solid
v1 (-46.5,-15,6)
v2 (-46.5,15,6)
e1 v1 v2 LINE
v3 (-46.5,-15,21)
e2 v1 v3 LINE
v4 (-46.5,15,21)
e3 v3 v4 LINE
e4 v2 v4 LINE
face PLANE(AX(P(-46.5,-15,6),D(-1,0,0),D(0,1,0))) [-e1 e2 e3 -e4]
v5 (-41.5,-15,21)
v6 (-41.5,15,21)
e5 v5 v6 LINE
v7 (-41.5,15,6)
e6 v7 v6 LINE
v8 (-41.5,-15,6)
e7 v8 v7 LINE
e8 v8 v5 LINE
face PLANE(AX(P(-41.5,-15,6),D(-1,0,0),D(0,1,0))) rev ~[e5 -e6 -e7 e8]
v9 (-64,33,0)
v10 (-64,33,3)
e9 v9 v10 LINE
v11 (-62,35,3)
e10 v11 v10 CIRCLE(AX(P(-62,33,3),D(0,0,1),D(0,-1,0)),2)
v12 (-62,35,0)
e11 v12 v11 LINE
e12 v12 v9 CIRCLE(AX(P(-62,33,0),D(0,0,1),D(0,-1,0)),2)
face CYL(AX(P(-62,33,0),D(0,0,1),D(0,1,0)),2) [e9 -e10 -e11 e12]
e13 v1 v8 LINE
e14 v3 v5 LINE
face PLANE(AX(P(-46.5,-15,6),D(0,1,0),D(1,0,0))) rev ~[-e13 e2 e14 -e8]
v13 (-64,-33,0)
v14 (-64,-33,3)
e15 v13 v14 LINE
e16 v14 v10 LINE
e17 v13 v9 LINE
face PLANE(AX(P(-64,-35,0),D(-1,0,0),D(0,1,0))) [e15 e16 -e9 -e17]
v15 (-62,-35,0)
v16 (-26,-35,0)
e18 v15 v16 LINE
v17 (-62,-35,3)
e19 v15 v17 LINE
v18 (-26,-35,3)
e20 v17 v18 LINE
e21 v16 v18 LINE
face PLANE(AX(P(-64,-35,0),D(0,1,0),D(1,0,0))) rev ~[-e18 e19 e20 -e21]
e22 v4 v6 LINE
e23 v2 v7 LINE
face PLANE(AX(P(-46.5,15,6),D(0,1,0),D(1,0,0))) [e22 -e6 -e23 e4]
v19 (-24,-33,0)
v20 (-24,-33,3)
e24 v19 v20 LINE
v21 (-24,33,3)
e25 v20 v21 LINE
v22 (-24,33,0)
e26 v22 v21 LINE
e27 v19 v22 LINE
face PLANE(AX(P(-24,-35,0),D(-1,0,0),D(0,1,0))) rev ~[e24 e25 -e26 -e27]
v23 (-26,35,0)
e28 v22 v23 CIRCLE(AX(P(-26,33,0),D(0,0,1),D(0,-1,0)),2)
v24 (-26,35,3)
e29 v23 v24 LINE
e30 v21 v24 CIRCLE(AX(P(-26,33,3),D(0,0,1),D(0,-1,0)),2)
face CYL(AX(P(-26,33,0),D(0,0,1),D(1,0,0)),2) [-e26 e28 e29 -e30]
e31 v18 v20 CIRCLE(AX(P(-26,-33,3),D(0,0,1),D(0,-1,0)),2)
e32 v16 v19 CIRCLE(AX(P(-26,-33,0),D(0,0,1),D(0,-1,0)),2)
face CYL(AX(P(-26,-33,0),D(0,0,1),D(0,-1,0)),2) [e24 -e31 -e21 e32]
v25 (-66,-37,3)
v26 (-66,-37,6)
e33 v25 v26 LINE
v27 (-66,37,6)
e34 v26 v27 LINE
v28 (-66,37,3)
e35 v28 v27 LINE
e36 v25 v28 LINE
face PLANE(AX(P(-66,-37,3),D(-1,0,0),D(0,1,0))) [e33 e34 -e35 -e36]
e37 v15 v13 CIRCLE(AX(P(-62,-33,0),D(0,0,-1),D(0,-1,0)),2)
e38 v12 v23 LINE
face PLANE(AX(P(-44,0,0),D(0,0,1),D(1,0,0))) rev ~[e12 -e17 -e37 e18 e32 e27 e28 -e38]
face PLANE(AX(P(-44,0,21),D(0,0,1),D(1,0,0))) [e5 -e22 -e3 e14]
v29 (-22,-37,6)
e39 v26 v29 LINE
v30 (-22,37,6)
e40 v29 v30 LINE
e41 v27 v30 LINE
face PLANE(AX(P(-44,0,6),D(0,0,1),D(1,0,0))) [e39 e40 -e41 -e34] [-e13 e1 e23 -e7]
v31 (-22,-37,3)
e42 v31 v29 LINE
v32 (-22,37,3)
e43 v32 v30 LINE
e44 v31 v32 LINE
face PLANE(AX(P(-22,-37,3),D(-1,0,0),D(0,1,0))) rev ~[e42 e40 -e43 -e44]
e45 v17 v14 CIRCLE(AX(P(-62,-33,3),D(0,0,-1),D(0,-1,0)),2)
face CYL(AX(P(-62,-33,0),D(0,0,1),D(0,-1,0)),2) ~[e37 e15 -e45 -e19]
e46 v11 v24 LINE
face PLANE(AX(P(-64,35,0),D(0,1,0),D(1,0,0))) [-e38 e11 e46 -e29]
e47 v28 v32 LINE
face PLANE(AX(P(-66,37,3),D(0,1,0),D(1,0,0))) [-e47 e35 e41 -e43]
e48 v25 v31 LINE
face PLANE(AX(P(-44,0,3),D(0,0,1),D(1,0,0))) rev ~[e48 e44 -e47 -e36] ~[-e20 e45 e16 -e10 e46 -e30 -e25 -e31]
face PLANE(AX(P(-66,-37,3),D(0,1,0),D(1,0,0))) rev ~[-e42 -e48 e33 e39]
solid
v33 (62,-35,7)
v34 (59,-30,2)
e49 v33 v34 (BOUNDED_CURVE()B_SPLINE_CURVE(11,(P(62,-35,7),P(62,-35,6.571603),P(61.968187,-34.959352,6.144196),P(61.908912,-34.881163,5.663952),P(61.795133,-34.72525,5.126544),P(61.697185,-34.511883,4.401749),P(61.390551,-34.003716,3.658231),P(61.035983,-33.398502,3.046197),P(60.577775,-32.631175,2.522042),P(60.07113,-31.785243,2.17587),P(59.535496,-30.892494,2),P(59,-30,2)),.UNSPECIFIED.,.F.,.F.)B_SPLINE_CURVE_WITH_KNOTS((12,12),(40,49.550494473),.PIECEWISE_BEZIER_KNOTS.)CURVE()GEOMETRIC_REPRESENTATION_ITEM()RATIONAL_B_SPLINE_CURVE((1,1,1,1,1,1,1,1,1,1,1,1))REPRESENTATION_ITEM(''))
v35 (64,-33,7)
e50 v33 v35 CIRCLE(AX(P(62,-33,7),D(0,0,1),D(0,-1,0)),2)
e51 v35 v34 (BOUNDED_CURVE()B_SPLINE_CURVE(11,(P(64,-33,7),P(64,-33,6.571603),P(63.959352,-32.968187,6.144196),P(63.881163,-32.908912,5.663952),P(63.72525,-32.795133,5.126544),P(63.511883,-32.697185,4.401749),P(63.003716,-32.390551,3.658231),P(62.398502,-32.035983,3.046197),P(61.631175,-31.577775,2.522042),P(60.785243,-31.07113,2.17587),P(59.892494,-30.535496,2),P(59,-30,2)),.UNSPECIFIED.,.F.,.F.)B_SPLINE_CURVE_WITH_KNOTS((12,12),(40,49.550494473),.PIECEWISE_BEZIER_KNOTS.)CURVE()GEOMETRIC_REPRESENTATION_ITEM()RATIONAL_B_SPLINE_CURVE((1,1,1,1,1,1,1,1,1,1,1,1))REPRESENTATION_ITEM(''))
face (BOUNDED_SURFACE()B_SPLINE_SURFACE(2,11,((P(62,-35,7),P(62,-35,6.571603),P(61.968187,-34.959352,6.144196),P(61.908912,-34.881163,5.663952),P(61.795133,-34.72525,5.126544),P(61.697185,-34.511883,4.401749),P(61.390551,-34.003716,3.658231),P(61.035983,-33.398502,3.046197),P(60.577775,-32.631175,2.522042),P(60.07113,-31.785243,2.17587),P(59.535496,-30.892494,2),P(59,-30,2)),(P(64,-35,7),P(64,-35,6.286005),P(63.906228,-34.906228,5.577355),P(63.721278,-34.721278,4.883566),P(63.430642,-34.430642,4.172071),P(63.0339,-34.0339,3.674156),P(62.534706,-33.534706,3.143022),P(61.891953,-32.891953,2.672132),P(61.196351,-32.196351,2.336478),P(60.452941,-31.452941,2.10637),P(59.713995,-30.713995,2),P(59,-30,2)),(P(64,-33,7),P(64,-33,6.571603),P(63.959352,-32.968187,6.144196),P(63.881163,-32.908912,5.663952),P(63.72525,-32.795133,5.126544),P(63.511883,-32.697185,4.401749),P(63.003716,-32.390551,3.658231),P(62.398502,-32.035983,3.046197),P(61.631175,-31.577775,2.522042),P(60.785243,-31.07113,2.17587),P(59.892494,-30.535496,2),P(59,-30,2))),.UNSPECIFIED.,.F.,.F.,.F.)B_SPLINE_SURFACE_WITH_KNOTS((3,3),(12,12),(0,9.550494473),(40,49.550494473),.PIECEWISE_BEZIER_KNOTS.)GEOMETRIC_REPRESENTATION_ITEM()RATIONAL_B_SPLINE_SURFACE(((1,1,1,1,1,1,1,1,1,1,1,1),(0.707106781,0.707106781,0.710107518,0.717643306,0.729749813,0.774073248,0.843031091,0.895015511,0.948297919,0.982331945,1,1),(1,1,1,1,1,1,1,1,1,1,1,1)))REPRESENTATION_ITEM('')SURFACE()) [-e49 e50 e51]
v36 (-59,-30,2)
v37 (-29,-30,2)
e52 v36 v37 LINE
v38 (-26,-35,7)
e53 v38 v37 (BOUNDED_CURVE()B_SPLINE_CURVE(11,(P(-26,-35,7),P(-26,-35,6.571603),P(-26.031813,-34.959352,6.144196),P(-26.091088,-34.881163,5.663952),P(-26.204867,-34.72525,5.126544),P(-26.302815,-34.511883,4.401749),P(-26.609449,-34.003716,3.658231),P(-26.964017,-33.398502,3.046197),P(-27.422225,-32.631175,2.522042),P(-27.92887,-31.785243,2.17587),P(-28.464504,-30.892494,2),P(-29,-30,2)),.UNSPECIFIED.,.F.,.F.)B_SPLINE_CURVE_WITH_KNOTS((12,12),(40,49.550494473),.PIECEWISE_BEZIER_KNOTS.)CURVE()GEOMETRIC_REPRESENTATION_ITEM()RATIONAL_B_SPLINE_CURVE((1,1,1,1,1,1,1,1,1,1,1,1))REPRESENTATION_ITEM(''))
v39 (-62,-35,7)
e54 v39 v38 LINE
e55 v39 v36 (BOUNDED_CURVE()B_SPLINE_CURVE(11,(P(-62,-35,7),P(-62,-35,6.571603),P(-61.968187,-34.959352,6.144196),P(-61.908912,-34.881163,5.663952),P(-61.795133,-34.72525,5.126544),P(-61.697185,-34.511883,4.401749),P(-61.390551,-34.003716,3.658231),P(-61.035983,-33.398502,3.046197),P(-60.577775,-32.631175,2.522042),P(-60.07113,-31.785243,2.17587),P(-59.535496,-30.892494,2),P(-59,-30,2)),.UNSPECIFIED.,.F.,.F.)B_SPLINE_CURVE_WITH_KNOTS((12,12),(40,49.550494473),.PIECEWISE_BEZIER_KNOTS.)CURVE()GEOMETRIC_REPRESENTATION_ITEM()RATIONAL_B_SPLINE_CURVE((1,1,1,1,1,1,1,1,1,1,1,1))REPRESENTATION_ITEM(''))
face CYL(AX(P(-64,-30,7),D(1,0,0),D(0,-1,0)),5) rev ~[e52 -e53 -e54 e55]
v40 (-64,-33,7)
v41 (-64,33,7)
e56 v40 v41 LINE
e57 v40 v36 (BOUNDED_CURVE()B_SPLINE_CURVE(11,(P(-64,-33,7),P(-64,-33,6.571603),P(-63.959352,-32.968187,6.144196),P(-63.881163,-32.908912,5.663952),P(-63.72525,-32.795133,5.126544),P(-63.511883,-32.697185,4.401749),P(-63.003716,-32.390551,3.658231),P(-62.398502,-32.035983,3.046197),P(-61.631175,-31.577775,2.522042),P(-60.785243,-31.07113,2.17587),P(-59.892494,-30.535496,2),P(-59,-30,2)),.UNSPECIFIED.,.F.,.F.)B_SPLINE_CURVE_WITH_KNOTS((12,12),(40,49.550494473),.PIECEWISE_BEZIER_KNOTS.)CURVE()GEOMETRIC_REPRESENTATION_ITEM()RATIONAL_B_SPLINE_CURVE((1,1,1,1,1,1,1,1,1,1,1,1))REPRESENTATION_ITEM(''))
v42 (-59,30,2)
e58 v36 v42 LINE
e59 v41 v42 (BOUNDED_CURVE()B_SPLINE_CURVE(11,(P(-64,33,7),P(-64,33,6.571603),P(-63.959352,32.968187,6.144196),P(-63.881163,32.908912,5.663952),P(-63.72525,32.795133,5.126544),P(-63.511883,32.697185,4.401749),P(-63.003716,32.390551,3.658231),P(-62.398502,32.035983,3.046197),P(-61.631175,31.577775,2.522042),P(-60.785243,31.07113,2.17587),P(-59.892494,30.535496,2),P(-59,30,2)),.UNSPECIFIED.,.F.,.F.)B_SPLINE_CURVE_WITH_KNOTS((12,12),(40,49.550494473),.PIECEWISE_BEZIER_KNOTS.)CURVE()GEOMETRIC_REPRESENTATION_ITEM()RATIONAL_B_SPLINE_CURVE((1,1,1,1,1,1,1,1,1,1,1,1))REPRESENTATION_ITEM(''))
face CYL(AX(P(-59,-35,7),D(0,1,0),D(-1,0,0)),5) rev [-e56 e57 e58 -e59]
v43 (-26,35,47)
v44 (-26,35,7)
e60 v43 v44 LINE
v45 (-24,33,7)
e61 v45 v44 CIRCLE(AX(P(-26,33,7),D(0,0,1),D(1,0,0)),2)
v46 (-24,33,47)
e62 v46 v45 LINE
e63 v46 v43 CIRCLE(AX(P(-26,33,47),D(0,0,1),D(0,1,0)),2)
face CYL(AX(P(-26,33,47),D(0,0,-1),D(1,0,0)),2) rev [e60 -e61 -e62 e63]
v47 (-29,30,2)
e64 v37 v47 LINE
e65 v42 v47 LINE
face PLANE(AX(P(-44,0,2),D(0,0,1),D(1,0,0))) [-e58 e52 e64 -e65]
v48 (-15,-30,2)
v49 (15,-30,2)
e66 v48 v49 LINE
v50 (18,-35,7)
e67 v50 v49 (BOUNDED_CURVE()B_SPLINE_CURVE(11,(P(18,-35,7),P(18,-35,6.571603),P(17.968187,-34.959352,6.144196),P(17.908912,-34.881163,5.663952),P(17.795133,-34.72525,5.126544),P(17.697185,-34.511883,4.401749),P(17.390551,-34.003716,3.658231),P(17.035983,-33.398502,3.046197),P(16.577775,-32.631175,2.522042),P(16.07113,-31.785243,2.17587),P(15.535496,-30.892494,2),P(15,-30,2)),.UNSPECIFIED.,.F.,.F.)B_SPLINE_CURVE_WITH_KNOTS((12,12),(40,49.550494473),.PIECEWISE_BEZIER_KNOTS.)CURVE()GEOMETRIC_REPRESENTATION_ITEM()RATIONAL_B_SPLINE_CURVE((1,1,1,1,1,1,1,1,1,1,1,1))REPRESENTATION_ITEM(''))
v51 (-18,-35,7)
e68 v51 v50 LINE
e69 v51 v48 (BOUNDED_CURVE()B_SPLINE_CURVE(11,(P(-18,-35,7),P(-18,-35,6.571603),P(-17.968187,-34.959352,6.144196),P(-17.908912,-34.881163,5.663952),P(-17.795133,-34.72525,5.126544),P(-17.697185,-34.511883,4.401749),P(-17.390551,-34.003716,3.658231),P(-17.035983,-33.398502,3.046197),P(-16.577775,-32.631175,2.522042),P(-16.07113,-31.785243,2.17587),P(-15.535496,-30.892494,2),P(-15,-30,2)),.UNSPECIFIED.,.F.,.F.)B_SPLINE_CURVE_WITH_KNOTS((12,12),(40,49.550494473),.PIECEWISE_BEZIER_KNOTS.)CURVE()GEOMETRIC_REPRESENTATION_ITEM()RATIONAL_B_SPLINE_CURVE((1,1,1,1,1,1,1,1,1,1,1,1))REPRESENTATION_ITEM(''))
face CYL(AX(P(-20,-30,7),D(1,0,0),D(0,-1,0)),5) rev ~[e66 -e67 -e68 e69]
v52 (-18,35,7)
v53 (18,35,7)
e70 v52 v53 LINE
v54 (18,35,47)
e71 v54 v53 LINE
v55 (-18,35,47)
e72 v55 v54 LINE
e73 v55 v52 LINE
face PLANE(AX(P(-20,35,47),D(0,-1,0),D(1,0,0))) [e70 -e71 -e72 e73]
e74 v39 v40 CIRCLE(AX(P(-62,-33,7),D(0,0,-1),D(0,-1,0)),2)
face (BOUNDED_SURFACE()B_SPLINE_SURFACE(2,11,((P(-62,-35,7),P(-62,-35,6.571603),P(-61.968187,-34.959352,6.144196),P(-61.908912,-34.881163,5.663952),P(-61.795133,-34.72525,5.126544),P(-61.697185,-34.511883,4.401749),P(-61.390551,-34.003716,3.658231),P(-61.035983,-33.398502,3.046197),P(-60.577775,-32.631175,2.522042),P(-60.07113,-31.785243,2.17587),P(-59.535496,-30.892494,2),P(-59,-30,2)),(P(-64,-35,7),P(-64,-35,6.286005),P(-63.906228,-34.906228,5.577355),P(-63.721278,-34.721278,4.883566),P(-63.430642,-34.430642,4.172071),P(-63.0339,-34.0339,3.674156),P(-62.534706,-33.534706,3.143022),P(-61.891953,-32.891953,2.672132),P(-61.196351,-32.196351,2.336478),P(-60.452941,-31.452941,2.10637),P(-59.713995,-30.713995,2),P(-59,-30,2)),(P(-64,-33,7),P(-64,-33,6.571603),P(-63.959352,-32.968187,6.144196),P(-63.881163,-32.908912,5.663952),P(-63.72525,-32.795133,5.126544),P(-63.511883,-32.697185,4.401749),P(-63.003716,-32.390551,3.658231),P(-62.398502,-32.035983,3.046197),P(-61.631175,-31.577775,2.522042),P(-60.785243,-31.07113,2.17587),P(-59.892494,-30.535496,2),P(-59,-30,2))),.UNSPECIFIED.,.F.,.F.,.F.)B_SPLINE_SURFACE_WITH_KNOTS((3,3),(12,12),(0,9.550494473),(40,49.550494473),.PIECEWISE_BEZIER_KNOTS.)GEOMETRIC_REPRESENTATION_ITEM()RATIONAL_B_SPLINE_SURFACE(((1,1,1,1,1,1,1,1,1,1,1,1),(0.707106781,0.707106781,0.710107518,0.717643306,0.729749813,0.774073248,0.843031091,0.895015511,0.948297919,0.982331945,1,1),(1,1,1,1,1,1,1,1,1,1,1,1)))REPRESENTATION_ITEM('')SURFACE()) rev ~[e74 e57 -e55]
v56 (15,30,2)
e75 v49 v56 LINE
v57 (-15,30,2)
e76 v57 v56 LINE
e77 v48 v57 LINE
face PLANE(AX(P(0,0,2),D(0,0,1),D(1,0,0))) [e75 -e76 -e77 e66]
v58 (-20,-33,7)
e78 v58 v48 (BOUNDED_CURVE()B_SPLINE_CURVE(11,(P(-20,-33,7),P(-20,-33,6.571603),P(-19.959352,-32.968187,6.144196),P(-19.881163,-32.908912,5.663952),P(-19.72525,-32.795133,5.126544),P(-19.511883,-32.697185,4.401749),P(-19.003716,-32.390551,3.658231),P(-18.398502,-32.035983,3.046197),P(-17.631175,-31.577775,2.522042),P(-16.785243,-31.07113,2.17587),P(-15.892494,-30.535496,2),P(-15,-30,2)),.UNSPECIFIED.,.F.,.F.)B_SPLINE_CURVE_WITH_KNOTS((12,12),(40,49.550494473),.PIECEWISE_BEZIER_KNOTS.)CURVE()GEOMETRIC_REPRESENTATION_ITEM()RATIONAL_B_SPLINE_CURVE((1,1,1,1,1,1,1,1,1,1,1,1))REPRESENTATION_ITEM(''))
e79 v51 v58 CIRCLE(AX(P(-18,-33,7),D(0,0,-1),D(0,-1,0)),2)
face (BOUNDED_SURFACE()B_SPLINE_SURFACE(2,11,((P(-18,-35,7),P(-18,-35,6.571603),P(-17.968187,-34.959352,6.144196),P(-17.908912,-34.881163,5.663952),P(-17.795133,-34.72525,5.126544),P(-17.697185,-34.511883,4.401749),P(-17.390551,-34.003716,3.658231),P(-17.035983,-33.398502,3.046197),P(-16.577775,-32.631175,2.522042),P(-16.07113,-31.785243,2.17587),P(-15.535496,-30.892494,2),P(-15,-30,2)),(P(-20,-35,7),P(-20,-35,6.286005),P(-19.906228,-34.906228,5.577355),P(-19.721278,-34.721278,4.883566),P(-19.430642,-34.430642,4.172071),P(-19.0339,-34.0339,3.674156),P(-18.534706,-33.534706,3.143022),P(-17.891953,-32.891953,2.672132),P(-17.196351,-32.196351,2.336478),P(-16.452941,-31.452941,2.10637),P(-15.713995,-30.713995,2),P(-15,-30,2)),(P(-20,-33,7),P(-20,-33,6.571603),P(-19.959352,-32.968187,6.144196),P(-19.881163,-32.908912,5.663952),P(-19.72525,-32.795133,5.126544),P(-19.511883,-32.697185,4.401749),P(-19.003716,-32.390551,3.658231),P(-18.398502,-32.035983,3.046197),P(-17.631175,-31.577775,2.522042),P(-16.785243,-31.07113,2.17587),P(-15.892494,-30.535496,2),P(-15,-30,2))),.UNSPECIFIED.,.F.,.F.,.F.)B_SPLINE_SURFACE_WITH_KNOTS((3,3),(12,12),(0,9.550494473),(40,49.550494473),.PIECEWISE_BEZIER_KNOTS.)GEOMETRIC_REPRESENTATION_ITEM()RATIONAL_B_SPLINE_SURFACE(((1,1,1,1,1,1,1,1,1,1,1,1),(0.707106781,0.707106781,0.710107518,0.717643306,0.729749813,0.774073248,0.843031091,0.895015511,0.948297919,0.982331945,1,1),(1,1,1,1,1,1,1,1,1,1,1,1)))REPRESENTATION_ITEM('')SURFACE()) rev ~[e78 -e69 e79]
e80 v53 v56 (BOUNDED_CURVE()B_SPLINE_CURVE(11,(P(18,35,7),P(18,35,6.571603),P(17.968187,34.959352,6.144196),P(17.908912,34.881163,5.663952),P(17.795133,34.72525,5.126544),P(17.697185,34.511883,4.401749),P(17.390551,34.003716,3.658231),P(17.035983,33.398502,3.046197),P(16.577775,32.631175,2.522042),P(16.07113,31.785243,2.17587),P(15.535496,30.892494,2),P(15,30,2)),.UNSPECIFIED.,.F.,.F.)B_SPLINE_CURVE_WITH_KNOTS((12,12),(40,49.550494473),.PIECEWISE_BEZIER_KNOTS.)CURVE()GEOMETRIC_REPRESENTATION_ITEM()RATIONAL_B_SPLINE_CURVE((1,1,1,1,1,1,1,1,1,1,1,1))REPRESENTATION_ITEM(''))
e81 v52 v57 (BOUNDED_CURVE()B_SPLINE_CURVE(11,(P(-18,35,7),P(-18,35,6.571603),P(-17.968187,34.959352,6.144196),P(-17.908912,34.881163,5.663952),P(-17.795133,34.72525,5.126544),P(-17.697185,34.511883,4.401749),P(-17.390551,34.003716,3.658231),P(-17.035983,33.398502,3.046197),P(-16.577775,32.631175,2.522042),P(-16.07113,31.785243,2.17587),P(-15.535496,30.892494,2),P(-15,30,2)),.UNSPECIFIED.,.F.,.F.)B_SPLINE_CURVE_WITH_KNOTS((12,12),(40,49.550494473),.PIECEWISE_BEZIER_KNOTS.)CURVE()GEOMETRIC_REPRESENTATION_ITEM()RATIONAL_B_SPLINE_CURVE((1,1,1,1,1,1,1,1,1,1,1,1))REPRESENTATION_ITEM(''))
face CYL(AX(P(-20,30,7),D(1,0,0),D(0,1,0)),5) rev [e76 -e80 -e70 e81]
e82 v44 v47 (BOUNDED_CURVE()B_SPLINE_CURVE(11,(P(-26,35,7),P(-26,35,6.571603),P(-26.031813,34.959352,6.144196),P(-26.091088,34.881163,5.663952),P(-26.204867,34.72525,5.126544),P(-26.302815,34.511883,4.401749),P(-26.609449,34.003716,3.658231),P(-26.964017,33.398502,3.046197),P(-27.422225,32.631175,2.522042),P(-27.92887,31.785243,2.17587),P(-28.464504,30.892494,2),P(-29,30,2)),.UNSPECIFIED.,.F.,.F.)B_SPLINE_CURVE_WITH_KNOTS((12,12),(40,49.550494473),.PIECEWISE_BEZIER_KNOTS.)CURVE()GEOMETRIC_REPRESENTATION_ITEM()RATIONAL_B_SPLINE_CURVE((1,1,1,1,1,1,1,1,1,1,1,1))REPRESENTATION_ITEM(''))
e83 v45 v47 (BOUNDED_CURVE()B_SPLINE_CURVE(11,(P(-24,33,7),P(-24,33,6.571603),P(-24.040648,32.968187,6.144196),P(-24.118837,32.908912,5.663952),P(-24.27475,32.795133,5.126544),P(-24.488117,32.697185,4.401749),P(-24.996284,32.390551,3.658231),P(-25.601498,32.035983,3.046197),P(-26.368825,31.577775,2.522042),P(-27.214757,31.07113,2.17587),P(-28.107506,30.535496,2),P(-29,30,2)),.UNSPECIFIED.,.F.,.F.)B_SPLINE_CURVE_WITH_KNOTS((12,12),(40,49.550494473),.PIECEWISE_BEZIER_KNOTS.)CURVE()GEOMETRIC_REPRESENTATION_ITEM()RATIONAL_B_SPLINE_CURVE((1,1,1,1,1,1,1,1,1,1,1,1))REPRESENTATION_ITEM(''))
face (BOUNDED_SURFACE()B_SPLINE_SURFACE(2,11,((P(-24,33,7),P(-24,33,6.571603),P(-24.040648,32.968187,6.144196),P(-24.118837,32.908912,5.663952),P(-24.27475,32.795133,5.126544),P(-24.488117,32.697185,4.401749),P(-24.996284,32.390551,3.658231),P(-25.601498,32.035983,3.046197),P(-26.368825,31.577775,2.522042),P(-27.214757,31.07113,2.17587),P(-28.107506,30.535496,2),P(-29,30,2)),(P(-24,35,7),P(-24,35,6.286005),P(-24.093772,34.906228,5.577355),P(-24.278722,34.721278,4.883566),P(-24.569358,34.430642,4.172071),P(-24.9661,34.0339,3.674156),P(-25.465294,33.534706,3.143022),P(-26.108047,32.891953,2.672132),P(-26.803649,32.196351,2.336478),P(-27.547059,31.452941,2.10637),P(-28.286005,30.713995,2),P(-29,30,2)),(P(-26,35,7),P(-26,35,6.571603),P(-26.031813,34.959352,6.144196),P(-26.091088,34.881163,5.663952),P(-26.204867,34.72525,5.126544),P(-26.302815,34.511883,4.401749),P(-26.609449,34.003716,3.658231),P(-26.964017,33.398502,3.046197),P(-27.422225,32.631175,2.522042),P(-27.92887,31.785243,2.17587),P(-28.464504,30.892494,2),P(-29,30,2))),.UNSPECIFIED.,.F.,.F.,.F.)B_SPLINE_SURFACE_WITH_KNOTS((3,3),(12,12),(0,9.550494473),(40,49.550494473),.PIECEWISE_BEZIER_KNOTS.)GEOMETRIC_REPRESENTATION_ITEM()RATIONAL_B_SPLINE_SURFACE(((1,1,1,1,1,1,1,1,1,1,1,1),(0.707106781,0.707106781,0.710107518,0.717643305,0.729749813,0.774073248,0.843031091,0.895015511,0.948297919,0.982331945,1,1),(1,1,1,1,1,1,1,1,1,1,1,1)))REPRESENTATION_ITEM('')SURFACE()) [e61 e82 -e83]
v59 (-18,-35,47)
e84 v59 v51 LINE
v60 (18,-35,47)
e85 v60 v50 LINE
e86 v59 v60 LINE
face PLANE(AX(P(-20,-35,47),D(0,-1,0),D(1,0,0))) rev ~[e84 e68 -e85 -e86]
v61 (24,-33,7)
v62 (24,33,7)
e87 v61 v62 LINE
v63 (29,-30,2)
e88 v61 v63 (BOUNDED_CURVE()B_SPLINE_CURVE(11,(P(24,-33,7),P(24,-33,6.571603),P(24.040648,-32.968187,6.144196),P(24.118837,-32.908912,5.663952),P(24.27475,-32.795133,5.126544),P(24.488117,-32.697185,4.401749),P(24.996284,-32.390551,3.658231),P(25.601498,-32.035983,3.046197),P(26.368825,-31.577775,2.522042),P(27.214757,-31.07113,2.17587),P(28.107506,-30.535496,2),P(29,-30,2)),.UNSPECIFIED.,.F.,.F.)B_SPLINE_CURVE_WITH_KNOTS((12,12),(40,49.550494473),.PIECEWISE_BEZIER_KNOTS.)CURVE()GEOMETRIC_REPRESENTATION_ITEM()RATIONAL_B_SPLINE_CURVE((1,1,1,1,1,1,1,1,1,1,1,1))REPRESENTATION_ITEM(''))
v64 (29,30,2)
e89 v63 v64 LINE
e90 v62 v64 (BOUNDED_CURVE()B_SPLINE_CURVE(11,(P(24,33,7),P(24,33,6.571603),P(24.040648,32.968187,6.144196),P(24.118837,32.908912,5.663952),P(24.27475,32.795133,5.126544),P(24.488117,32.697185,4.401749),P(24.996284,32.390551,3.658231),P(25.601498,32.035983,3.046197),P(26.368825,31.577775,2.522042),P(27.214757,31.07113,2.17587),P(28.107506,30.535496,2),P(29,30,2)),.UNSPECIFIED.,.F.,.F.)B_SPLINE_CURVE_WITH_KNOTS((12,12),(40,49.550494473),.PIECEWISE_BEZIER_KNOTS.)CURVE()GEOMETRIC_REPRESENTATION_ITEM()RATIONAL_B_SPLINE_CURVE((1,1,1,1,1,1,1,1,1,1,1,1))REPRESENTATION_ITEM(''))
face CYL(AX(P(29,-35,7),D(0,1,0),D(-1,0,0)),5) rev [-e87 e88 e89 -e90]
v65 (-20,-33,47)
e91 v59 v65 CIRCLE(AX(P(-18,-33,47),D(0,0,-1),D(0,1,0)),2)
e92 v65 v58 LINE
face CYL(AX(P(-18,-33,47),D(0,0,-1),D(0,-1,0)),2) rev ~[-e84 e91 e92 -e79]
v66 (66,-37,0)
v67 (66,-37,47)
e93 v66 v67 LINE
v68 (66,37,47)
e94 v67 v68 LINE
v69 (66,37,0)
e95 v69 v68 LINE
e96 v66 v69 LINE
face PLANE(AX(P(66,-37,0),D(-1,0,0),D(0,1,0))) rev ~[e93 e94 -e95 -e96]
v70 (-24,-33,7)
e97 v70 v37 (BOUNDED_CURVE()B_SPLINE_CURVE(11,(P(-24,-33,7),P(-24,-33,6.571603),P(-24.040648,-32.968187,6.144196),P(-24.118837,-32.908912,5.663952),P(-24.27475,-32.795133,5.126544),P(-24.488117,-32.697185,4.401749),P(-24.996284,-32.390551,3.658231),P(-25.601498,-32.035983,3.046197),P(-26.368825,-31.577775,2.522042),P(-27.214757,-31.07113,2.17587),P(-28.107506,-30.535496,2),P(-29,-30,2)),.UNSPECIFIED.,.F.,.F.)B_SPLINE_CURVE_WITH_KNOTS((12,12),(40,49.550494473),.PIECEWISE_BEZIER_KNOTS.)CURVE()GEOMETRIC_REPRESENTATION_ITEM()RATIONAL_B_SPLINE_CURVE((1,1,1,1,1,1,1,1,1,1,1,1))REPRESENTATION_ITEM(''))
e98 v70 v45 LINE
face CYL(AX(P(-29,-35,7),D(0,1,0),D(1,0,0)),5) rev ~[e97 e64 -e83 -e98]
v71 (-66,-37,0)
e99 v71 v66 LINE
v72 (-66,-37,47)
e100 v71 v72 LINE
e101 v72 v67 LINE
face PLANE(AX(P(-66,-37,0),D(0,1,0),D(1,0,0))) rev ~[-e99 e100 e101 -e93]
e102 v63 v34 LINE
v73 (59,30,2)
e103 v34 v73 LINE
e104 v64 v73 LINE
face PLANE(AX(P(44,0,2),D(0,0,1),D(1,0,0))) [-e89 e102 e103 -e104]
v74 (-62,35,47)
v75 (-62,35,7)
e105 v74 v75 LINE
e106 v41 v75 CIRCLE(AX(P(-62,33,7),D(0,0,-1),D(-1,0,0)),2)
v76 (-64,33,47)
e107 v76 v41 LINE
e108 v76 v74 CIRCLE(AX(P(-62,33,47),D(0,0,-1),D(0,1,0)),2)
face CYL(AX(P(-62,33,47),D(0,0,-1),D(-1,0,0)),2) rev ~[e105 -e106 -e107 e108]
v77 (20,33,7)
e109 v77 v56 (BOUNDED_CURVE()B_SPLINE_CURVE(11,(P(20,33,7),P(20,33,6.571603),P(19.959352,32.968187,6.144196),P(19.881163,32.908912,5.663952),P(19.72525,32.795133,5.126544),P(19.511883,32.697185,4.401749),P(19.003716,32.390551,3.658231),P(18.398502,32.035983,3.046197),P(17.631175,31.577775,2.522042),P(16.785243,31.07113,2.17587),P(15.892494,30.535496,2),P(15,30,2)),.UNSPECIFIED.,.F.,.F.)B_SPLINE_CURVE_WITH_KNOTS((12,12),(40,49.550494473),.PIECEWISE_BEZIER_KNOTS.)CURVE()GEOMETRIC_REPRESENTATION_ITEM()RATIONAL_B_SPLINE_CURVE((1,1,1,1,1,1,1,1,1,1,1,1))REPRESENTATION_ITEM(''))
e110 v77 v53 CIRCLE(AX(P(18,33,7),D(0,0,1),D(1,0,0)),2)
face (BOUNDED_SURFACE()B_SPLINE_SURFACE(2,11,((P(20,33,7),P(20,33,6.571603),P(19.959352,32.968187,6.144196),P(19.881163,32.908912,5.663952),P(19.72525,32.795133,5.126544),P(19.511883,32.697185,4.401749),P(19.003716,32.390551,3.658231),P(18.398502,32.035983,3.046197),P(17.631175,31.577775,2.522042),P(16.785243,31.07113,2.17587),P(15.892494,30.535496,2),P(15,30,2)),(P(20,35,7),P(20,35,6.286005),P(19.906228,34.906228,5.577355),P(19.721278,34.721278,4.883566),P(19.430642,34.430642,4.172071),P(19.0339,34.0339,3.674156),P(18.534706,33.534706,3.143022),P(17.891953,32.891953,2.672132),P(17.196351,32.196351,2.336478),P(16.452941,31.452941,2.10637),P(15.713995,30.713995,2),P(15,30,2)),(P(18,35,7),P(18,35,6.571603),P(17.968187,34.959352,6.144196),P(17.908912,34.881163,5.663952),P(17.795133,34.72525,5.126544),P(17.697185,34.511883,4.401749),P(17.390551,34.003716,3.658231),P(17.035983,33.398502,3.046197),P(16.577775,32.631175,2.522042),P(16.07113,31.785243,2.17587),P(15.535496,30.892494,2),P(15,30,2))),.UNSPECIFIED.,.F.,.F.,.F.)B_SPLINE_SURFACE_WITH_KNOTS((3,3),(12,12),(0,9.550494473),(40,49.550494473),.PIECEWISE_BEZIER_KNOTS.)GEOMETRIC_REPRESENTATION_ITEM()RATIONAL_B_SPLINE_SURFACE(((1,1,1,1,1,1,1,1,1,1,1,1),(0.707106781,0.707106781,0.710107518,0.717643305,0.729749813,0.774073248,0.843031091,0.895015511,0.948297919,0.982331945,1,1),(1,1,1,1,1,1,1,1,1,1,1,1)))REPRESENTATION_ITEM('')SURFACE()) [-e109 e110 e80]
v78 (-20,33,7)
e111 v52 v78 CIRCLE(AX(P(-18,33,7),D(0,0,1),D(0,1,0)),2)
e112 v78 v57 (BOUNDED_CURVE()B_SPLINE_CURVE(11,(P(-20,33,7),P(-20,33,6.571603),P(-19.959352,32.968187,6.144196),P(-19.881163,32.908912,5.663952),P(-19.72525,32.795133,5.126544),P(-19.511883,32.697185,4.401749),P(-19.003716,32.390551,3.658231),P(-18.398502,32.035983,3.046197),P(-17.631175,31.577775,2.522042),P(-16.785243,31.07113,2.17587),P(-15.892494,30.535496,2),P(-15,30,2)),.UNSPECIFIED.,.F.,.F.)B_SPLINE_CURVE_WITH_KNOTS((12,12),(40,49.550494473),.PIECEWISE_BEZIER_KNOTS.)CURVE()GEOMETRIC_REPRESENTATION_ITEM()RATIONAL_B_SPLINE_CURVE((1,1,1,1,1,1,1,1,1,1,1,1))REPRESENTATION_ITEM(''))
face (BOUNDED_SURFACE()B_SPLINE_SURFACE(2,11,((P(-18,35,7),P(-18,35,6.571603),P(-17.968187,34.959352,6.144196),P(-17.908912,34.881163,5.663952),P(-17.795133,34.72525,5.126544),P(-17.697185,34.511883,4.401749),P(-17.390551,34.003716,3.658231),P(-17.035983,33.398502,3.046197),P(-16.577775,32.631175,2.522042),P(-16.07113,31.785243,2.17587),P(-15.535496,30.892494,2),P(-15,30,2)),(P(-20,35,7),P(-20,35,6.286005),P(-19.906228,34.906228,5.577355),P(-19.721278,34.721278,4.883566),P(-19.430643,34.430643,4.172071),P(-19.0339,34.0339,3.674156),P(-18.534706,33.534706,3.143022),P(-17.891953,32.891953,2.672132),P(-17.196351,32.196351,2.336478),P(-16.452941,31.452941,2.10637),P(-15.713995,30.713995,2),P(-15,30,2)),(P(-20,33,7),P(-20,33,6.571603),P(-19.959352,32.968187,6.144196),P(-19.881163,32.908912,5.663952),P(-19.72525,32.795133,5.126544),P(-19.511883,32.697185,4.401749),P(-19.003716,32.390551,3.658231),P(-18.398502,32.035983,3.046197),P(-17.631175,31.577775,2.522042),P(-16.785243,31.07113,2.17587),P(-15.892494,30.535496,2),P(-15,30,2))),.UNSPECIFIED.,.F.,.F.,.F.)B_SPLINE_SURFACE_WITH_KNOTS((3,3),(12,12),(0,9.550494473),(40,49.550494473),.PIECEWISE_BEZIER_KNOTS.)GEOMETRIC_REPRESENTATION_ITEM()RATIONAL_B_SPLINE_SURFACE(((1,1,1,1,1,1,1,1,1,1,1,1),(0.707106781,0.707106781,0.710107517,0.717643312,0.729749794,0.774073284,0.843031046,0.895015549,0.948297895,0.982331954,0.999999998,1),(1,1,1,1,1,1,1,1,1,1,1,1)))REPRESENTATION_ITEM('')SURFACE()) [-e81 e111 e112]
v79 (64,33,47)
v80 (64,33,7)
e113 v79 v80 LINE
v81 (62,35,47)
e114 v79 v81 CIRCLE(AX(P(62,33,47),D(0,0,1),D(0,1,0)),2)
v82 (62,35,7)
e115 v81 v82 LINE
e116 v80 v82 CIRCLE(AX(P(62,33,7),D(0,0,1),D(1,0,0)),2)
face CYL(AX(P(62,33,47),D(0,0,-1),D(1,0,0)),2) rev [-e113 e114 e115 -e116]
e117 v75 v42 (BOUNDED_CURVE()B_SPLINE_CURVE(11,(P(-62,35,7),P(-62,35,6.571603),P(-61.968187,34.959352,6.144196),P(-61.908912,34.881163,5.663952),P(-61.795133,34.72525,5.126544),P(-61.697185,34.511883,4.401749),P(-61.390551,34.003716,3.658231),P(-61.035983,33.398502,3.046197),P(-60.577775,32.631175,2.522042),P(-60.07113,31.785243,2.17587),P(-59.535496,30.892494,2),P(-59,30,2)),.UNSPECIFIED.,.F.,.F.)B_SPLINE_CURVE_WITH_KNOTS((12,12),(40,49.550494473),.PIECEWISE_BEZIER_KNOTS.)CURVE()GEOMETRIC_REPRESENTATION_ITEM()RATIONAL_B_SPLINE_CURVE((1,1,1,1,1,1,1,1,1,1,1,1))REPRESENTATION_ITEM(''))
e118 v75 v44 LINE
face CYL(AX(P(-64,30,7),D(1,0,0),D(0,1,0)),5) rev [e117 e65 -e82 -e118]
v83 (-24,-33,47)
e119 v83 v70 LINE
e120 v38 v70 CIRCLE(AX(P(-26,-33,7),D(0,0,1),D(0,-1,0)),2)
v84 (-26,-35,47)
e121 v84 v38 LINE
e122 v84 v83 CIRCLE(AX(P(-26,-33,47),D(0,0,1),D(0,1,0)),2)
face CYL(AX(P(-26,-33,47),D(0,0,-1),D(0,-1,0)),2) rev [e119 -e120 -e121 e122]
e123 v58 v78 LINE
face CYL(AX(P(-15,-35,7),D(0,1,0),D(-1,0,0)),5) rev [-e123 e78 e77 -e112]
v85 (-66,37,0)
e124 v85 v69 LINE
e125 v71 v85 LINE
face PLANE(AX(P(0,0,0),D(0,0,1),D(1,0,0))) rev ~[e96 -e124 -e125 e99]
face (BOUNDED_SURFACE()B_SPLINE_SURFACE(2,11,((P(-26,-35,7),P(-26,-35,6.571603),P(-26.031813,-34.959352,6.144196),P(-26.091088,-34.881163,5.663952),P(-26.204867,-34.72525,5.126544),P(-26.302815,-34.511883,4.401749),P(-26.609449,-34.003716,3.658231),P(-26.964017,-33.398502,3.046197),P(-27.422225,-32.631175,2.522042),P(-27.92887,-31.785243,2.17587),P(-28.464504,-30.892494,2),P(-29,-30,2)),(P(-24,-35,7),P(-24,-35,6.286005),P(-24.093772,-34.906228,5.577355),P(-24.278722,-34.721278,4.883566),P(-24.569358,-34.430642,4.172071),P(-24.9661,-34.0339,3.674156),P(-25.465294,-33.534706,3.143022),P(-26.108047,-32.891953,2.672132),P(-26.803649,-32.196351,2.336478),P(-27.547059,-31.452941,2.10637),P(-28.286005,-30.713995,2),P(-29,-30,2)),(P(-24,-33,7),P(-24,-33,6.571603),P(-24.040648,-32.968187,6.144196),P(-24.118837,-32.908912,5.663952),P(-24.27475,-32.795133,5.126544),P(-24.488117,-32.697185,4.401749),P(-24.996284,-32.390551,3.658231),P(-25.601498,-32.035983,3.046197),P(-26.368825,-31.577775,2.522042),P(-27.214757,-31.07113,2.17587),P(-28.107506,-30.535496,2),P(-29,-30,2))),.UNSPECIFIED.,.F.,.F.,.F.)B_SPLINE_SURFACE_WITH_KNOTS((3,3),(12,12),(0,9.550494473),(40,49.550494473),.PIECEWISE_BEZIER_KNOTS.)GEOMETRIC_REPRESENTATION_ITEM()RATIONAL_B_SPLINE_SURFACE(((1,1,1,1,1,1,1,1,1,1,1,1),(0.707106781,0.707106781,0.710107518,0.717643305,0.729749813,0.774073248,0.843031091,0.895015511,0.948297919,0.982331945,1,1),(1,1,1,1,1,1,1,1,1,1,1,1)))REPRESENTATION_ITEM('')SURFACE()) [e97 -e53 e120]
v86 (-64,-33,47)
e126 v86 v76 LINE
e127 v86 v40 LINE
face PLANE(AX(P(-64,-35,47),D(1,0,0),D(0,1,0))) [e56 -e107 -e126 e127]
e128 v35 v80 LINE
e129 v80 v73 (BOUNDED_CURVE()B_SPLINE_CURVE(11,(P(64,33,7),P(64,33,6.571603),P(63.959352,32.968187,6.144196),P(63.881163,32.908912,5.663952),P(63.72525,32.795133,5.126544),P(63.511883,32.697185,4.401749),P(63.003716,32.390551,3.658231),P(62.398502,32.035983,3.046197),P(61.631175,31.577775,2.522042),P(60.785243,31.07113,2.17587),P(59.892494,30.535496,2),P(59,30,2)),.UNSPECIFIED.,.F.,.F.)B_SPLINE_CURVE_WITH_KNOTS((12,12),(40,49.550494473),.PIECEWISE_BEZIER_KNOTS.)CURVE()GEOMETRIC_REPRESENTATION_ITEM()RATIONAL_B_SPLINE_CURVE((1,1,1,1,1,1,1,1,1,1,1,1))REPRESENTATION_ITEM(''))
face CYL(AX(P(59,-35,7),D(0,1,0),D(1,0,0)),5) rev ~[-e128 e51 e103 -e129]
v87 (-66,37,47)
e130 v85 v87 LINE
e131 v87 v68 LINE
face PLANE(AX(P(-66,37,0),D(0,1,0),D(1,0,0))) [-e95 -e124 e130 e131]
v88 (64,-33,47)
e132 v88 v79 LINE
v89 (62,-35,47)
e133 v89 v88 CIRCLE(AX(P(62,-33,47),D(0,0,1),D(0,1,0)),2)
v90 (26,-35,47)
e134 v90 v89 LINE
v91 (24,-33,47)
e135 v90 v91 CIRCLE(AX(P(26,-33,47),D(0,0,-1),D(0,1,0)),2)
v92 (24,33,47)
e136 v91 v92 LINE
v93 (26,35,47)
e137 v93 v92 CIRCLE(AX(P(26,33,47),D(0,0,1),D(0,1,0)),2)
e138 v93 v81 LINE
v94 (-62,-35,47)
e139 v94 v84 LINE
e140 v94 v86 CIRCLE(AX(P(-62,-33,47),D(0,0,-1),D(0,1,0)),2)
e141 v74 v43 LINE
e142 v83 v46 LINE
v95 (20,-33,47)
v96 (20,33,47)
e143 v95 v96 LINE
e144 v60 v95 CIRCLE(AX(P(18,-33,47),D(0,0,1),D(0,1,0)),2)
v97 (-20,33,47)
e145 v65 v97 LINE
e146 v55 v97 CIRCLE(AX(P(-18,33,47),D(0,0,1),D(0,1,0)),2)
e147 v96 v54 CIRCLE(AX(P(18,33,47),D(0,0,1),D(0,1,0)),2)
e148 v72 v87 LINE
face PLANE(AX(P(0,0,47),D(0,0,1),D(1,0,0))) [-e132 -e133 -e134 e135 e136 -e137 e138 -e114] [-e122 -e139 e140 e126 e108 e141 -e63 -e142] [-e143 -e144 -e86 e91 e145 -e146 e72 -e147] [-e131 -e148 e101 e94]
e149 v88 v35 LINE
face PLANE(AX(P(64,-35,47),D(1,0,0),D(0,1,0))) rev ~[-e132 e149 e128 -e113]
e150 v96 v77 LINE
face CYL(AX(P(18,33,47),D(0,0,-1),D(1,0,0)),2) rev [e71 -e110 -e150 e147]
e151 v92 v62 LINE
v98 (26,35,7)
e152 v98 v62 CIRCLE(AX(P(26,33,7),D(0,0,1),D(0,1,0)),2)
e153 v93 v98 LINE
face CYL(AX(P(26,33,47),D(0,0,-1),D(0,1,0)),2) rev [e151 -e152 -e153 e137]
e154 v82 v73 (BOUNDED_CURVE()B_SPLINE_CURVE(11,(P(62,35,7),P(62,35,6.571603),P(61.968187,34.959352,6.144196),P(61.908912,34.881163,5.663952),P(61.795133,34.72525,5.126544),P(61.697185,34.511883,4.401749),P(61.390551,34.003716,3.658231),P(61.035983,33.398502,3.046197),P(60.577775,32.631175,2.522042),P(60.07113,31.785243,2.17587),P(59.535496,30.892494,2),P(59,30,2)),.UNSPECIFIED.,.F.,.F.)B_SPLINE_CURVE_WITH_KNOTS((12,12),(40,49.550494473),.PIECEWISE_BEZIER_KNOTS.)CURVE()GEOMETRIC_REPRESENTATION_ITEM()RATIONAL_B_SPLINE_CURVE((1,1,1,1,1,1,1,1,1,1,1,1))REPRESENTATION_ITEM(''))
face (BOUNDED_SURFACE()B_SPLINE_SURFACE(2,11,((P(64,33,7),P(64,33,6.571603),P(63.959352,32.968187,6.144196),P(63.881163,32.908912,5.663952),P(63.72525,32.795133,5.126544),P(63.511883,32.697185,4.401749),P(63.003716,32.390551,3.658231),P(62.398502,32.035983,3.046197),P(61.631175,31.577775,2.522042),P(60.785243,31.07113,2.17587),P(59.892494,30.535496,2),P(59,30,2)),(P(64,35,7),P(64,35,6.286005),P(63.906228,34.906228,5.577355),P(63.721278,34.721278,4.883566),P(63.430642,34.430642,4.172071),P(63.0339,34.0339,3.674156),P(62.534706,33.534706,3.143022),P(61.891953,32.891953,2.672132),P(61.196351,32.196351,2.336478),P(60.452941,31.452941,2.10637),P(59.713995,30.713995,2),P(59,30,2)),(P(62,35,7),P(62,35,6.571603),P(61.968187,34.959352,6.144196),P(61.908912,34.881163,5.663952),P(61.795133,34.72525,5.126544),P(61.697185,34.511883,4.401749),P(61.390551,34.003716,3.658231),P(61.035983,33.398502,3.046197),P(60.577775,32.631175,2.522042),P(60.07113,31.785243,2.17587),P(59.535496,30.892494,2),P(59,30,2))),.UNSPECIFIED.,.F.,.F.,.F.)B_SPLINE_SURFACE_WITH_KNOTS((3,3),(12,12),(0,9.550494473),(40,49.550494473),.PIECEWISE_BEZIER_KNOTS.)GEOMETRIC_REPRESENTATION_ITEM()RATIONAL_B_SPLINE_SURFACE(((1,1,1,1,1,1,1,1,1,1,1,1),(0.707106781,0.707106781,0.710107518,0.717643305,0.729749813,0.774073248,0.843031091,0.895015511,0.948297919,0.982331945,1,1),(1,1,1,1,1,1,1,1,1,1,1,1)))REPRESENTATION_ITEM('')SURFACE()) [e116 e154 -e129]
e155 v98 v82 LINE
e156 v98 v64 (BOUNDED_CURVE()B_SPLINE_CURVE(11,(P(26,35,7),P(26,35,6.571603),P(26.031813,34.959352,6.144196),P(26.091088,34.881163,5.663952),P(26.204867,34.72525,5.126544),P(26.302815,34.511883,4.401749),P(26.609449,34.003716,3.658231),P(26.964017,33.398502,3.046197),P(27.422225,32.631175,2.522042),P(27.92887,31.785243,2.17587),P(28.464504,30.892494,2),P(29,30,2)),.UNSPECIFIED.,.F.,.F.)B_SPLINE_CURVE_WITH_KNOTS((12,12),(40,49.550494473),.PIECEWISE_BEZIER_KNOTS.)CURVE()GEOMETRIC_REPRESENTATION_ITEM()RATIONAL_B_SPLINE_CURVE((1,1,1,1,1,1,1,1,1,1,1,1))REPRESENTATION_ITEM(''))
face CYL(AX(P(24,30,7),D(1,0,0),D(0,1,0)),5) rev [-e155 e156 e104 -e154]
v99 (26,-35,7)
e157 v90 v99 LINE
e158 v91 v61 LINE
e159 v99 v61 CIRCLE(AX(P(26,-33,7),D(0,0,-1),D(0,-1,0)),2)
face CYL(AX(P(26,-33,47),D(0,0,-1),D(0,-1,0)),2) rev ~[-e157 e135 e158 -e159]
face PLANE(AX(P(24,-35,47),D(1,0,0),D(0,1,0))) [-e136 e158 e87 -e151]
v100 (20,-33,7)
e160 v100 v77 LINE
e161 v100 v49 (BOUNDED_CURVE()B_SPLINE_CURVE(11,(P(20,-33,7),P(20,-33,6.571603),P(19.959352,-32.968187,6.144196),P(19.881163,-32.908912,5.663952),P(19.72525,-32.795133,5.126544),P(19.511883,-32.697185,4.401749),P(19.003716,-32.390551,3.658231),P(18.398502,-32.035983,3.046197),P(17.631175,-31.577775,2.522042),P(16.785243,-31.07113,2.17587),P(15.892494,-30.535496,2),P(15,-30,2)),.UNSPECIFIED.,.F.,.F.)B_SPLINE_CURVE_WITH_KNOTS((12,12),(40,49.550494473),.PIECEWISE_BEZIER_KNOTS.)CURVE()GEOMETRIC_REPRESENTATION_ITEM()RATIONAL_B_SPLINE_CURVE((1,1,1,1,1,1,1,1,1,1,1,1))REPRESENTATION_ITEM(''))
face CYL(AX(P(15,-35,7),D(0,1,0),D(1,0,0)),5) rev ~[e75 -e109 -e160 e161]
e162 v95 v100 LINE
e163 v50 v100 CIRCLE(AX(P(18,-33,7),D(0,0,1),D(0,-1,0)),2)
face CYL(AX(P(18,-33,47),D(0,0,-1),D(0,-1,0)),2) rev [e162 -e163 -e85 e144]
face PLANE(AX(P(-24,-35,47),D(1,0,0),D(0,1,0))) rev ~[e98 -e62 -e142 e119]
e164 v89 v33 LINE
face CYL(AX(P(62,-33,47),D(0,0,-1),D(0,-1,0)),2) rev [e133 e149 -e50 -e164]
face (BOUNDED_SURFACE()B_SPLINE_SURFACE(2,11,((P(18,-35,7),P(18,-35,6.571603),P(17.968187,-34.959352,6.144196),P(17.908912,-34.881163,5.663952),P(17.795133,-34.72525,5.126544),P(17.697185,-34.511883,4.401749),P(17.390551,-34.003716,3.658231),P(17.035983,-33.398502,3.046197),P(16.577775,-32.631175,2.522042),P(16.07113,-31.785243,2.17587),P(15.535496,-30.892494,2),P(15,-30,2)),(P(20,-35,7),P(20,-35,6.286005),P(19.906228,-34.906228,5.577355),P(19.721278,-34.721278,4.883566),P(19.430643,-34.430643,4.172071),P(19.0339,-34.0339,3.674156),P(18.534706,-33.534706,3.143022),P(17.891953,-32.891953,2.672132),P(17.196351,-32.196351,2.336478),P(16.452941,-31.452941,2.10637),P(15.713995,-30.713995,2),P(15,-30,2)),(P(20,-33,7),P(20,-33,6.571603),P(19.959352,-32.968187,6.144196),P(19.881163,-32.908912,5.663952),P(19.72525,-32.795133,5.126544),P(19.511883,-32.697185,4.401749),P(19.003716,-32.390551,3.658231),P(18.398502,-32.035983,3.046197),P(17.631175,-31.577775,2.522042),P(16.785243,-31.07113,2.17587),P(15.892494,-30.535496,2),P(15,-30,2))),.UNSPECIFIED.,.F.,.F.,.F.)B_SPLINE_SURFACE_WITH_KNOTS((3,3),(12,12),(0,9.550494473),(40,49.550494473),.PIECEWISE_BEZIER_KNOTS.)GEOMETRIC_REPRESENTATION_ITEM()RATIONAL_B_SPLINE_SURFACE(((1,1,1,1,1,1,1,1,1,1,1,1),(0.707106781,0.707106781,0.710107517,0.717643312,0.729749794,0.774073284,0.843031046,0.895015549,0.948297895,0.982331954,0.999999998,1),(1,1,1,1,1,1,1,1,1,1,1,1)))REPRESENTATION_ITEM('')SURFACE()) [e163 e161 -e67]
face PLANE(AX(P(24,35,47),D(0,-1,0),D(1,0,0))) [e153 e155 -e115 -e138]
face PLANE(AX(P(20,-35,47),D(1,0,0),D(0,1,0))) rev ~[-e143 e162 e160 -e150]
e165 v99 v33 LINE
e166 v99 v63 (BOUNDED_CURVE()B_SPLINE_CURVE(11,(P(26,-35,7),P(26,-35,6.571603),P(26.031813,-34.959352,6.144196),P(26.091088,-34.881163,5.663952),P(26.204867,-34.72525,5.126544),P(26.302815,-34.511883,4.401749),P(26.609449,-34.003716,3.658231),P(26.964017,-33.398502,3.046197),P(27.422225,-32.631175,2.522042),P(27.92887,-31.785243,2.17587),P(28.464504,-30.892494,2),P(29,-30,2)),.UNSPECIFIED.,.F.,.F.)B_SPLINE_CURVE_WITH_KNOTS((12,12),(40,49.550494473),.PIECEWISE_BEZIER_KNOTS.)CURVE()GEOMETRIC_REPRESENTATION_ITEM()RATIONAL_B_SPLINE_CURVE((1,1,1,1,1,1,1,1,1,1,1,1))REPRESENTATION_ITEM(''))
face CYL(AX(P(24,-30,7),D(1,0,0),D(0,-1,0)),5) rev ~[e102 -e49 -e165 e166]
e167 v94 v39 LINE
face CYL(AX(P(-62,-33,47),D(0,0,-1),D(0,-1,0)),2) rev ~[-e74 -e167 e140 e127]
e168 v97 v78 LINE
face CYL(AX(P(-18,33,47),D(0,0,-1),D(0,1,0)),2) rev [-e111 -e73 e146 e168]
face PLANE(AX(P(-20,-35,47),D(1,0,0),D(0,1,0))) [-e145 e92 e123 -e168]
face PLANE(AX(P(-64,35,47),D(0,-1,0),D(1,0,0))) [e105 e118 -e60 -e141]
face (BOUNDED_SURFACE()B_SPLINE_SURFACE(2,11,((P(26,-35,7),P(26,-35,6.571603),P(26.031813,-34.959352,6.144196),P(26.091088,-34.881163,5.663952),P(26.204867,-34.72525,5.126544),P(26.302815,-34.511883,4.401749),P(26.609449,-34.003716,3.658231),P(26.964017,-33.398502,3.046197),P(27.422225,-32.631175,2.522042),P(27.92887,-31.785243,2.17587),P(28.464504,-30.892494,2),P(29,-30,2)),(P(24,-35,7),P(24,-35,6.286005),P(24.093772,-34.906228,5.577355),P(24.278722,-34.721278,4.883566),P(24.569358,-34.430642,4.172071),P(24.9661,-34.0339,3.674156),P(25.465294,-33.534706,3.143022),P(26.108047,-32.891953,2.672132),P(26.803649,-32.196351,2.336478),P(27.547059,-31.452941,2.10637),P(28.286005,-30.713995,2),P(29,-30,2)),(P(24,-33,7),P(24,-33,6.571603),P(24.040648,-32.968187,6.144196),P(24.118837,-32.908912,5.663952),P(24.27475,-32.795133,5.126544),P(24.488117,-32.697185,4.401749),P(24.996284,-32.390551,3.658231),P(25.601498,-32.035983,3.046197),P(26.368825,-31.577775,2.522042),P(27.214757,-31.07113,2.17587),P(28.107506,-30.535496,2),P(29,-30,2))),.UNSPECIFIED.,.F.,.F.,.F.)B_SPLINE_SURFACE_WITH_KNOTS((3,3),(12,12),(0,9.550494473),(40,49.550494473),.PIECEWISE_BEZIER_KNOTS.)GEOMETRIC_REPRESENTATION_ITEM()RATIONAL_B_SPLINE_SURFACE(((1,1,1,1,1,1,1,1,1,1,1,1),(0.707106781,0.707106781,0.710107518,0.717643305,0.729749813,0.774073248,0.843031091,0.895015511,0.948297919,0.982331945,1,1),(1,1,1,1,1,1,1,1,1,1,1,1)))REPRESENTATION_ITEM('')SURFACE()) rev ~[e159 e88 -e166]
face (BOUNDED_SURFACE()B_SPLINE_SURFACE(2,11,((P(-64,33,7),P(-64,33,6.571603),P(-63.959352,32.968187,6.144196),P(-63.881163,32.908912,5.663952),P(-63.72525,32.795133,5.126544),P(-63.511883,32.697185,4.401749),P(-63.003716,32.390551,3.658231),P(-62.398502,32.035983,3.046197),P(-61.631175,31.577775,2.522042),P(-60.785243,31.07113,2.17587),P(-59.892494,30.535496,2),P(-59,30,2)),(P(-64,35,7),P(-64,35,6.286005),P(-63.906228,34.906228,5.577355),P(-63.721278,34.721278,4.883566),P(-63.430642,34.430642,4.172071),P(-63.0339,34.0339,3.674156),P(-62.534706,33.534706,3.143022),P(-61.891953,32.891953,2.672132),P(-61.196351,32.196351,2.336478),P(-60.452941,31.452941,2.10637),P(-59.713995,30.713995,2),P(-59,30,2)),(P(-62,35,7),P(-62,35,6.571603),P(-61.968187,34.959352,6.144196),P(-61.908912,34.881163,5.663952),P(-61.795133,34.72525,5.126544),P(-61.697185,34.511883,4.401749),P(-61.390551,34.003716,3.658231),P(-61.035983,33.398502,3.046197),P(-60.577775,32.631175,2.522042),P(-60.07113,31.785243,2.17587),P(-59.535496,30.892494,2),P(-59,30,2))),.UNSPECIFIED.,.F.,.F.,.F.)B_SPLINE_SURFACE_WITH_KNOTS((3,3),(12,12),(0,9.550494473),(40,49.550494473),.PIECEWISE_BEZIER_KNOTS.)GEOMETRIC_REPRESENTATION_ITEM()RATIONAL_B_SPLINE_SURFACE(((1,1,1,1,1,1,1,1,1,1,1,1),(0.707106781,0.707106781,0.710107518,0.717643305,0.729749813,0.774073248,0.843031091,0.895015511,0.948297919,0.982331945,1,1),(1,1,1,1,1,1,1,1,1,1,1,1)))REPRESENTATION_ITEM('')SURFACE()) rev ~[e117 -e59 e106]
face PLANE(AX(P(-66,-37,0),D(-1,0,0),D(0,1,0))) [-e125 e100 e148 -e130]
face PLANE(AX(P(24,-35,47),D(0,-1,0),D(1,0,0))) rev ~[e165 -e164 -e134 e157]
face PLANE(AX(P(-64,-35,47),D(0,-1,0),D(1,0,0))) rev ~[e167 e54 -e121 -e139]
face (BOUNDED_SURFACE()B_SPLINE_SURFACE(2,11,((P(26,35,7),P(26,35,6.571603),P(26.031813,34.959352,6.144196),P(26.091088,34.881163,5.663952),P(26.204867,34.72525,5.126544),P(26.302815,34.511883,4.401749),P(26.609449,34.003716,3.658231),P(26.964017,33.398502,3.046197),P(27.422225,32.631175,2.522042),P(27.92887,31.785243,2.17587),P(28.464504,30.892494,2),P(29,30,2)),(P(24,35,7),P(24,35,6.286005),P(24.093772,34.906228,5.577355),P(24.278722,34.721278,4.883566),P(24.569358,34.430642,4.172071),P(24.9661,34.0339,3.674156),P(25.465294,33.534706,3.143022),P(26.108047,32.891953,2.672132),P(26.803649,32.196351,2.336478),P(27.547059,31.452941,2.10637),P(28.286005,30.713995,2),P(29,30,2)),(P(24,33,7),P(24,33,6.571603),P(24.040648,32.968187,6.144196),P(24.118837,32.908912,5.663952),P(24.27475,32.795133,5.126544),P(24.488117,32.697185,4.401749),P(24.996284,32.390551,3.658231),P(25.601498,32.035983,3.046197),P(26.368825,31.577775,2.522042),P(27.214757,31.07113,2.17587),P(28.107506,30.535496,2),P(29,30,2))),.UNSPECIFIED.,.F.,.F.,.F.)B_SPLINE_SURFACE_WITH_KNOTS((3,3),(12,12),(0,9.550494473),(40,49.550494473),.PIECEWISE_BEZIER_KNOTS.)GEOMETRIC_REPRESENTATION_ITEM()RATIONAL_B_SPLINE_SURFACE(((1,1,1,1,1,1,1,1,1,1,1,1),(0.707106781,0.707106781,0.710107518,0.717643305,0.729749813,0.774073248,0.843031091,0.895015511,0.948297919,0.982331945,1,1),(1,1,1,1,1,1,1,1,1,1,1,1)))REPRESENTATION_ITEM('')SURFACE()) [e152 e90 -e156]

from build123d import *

# Parameters (mm, degrees)
SKETCH_W            = 132
SKETCH_H            = 74
PAD_DEPTH           = 47
SKETCH001_W         = 40
SKETCH001_H         = 70
POCKET_DEPTH        = 45
LINEARPATTERN_COUNT = 3
LINEARPATTERN_PITCH = 44
FILLET_R            = 5
FILLET003_R         = 2
SKETCH002_W         = 40
SKETCH002_H         = 70
PAD001_DEPTH        = 3
SKETCH003_W         = 44
SKETCH003_H         = 74
PAD002_DEPTH        = 3
SKETCH004_W         = 5
SKETCH004_H         = 30
PAD003_DEPTH        = 15
FILLET004_R         = 2


with BuildPart() as containerbody:
    # Sketch → Pad (new body)
    with BuildSketch(Plane.XY):
        Rectangle(SKETCH_W, SKETCH_H)
    extrude(amount=PAD_DEPTH)

    # Sketch001 → Pocket (cut)
    with BuildSketch(Plane.XY.offset(47)):
        with Locations((-44, 0)):
            Rectangle(SKETCH001_W, SKETCH001_H)
    pocket = extrude(amount=-POCKET_DEPTH, mode=Mode.SUBTRACT)

    # LinearPattern: Pocket ×3
    with Locations(*[(i * LINEARPATTERN_PITCH, 0, 0) for i in range(1, LINEARPATTERN_COUNT)]):
        add(pocket, mode=Mode.SUBTRACT)

    # Fillet
    fillet_edges = [containerbody.edges().sort_by_distance(p)[0] for p in [
        (-64, 0, 2),
        (-44, -35, 2),
        (-24, 0, 2),
        (-44, 35, 2),
        (-20, 0, 2),
        (0, -35, 2),
        (20, 0, 2),
        (0, 35, 2),
        (24, 0, 2),
        (44, -35, 2),
        (64, 0, 2),
        (44, 35, 2),
    ]]
    fillet(fillet_edges, radius=FILLET_R)

    # Fillet003
    fillet003_edges = [containerbody.edges().sort_by_distance(p)[0] for p in [
        (-64, 35, 27),
        (-20, 35, 27),
        (24, 35, 27),
        (-24, 35, 27),
        (20, 35, 27),
        (64, 35, 27),
        (64, -35, 27),
        (20, -35, 27),
        (-24, -35, 27),
        (24, -35, 27),
        (-20, -35, 27),
        (-64, -35, 27),
    ]]
    fillet(fillet003_edges, radius=FILLET003_R)


with BuildPart() as plugbody:
    # Sketch002 → Pad001 (new body)
    with BuildSketch(Plane.XY):
        with Locations((-44, 0)):
            Rectangle(SKETCH002_W, SKETCH002_H)
    extrude(amount=PAD001_DEPTH)

    # Sketch003 → Pad002 (join)
    with BuildSketch(Plane.XY.offset(3)):
        with Locations((-44, 0)):
            Rectangle(SKETCH003_W, SKETCH003_H)
    extrude(amount=PAD002_DEPTH)

    # Sketch004 → Pad003 (join)
    with BuildSketch(Plane.XY.offset(6)):
        with Locations((-44, 0)):
            Rectangle(SKETCH004_W, SKETCH004_H)
    extrude(amount=PAD003_DEPTH)

    # Fillet004
    fillet004_edges = [plugbody.edges().sort_by_distance(p)[0] for p in [
        (-64, 35, 1.5),
        (-24, 35, 1.5),
        (-64, -35, 1.5),
        (-24, -35, 1.5),
    ]]
    fillet(fillet004_edges, radius=FILLET004_R)


solid = Compound([containerbody.part, plugbody.part])
